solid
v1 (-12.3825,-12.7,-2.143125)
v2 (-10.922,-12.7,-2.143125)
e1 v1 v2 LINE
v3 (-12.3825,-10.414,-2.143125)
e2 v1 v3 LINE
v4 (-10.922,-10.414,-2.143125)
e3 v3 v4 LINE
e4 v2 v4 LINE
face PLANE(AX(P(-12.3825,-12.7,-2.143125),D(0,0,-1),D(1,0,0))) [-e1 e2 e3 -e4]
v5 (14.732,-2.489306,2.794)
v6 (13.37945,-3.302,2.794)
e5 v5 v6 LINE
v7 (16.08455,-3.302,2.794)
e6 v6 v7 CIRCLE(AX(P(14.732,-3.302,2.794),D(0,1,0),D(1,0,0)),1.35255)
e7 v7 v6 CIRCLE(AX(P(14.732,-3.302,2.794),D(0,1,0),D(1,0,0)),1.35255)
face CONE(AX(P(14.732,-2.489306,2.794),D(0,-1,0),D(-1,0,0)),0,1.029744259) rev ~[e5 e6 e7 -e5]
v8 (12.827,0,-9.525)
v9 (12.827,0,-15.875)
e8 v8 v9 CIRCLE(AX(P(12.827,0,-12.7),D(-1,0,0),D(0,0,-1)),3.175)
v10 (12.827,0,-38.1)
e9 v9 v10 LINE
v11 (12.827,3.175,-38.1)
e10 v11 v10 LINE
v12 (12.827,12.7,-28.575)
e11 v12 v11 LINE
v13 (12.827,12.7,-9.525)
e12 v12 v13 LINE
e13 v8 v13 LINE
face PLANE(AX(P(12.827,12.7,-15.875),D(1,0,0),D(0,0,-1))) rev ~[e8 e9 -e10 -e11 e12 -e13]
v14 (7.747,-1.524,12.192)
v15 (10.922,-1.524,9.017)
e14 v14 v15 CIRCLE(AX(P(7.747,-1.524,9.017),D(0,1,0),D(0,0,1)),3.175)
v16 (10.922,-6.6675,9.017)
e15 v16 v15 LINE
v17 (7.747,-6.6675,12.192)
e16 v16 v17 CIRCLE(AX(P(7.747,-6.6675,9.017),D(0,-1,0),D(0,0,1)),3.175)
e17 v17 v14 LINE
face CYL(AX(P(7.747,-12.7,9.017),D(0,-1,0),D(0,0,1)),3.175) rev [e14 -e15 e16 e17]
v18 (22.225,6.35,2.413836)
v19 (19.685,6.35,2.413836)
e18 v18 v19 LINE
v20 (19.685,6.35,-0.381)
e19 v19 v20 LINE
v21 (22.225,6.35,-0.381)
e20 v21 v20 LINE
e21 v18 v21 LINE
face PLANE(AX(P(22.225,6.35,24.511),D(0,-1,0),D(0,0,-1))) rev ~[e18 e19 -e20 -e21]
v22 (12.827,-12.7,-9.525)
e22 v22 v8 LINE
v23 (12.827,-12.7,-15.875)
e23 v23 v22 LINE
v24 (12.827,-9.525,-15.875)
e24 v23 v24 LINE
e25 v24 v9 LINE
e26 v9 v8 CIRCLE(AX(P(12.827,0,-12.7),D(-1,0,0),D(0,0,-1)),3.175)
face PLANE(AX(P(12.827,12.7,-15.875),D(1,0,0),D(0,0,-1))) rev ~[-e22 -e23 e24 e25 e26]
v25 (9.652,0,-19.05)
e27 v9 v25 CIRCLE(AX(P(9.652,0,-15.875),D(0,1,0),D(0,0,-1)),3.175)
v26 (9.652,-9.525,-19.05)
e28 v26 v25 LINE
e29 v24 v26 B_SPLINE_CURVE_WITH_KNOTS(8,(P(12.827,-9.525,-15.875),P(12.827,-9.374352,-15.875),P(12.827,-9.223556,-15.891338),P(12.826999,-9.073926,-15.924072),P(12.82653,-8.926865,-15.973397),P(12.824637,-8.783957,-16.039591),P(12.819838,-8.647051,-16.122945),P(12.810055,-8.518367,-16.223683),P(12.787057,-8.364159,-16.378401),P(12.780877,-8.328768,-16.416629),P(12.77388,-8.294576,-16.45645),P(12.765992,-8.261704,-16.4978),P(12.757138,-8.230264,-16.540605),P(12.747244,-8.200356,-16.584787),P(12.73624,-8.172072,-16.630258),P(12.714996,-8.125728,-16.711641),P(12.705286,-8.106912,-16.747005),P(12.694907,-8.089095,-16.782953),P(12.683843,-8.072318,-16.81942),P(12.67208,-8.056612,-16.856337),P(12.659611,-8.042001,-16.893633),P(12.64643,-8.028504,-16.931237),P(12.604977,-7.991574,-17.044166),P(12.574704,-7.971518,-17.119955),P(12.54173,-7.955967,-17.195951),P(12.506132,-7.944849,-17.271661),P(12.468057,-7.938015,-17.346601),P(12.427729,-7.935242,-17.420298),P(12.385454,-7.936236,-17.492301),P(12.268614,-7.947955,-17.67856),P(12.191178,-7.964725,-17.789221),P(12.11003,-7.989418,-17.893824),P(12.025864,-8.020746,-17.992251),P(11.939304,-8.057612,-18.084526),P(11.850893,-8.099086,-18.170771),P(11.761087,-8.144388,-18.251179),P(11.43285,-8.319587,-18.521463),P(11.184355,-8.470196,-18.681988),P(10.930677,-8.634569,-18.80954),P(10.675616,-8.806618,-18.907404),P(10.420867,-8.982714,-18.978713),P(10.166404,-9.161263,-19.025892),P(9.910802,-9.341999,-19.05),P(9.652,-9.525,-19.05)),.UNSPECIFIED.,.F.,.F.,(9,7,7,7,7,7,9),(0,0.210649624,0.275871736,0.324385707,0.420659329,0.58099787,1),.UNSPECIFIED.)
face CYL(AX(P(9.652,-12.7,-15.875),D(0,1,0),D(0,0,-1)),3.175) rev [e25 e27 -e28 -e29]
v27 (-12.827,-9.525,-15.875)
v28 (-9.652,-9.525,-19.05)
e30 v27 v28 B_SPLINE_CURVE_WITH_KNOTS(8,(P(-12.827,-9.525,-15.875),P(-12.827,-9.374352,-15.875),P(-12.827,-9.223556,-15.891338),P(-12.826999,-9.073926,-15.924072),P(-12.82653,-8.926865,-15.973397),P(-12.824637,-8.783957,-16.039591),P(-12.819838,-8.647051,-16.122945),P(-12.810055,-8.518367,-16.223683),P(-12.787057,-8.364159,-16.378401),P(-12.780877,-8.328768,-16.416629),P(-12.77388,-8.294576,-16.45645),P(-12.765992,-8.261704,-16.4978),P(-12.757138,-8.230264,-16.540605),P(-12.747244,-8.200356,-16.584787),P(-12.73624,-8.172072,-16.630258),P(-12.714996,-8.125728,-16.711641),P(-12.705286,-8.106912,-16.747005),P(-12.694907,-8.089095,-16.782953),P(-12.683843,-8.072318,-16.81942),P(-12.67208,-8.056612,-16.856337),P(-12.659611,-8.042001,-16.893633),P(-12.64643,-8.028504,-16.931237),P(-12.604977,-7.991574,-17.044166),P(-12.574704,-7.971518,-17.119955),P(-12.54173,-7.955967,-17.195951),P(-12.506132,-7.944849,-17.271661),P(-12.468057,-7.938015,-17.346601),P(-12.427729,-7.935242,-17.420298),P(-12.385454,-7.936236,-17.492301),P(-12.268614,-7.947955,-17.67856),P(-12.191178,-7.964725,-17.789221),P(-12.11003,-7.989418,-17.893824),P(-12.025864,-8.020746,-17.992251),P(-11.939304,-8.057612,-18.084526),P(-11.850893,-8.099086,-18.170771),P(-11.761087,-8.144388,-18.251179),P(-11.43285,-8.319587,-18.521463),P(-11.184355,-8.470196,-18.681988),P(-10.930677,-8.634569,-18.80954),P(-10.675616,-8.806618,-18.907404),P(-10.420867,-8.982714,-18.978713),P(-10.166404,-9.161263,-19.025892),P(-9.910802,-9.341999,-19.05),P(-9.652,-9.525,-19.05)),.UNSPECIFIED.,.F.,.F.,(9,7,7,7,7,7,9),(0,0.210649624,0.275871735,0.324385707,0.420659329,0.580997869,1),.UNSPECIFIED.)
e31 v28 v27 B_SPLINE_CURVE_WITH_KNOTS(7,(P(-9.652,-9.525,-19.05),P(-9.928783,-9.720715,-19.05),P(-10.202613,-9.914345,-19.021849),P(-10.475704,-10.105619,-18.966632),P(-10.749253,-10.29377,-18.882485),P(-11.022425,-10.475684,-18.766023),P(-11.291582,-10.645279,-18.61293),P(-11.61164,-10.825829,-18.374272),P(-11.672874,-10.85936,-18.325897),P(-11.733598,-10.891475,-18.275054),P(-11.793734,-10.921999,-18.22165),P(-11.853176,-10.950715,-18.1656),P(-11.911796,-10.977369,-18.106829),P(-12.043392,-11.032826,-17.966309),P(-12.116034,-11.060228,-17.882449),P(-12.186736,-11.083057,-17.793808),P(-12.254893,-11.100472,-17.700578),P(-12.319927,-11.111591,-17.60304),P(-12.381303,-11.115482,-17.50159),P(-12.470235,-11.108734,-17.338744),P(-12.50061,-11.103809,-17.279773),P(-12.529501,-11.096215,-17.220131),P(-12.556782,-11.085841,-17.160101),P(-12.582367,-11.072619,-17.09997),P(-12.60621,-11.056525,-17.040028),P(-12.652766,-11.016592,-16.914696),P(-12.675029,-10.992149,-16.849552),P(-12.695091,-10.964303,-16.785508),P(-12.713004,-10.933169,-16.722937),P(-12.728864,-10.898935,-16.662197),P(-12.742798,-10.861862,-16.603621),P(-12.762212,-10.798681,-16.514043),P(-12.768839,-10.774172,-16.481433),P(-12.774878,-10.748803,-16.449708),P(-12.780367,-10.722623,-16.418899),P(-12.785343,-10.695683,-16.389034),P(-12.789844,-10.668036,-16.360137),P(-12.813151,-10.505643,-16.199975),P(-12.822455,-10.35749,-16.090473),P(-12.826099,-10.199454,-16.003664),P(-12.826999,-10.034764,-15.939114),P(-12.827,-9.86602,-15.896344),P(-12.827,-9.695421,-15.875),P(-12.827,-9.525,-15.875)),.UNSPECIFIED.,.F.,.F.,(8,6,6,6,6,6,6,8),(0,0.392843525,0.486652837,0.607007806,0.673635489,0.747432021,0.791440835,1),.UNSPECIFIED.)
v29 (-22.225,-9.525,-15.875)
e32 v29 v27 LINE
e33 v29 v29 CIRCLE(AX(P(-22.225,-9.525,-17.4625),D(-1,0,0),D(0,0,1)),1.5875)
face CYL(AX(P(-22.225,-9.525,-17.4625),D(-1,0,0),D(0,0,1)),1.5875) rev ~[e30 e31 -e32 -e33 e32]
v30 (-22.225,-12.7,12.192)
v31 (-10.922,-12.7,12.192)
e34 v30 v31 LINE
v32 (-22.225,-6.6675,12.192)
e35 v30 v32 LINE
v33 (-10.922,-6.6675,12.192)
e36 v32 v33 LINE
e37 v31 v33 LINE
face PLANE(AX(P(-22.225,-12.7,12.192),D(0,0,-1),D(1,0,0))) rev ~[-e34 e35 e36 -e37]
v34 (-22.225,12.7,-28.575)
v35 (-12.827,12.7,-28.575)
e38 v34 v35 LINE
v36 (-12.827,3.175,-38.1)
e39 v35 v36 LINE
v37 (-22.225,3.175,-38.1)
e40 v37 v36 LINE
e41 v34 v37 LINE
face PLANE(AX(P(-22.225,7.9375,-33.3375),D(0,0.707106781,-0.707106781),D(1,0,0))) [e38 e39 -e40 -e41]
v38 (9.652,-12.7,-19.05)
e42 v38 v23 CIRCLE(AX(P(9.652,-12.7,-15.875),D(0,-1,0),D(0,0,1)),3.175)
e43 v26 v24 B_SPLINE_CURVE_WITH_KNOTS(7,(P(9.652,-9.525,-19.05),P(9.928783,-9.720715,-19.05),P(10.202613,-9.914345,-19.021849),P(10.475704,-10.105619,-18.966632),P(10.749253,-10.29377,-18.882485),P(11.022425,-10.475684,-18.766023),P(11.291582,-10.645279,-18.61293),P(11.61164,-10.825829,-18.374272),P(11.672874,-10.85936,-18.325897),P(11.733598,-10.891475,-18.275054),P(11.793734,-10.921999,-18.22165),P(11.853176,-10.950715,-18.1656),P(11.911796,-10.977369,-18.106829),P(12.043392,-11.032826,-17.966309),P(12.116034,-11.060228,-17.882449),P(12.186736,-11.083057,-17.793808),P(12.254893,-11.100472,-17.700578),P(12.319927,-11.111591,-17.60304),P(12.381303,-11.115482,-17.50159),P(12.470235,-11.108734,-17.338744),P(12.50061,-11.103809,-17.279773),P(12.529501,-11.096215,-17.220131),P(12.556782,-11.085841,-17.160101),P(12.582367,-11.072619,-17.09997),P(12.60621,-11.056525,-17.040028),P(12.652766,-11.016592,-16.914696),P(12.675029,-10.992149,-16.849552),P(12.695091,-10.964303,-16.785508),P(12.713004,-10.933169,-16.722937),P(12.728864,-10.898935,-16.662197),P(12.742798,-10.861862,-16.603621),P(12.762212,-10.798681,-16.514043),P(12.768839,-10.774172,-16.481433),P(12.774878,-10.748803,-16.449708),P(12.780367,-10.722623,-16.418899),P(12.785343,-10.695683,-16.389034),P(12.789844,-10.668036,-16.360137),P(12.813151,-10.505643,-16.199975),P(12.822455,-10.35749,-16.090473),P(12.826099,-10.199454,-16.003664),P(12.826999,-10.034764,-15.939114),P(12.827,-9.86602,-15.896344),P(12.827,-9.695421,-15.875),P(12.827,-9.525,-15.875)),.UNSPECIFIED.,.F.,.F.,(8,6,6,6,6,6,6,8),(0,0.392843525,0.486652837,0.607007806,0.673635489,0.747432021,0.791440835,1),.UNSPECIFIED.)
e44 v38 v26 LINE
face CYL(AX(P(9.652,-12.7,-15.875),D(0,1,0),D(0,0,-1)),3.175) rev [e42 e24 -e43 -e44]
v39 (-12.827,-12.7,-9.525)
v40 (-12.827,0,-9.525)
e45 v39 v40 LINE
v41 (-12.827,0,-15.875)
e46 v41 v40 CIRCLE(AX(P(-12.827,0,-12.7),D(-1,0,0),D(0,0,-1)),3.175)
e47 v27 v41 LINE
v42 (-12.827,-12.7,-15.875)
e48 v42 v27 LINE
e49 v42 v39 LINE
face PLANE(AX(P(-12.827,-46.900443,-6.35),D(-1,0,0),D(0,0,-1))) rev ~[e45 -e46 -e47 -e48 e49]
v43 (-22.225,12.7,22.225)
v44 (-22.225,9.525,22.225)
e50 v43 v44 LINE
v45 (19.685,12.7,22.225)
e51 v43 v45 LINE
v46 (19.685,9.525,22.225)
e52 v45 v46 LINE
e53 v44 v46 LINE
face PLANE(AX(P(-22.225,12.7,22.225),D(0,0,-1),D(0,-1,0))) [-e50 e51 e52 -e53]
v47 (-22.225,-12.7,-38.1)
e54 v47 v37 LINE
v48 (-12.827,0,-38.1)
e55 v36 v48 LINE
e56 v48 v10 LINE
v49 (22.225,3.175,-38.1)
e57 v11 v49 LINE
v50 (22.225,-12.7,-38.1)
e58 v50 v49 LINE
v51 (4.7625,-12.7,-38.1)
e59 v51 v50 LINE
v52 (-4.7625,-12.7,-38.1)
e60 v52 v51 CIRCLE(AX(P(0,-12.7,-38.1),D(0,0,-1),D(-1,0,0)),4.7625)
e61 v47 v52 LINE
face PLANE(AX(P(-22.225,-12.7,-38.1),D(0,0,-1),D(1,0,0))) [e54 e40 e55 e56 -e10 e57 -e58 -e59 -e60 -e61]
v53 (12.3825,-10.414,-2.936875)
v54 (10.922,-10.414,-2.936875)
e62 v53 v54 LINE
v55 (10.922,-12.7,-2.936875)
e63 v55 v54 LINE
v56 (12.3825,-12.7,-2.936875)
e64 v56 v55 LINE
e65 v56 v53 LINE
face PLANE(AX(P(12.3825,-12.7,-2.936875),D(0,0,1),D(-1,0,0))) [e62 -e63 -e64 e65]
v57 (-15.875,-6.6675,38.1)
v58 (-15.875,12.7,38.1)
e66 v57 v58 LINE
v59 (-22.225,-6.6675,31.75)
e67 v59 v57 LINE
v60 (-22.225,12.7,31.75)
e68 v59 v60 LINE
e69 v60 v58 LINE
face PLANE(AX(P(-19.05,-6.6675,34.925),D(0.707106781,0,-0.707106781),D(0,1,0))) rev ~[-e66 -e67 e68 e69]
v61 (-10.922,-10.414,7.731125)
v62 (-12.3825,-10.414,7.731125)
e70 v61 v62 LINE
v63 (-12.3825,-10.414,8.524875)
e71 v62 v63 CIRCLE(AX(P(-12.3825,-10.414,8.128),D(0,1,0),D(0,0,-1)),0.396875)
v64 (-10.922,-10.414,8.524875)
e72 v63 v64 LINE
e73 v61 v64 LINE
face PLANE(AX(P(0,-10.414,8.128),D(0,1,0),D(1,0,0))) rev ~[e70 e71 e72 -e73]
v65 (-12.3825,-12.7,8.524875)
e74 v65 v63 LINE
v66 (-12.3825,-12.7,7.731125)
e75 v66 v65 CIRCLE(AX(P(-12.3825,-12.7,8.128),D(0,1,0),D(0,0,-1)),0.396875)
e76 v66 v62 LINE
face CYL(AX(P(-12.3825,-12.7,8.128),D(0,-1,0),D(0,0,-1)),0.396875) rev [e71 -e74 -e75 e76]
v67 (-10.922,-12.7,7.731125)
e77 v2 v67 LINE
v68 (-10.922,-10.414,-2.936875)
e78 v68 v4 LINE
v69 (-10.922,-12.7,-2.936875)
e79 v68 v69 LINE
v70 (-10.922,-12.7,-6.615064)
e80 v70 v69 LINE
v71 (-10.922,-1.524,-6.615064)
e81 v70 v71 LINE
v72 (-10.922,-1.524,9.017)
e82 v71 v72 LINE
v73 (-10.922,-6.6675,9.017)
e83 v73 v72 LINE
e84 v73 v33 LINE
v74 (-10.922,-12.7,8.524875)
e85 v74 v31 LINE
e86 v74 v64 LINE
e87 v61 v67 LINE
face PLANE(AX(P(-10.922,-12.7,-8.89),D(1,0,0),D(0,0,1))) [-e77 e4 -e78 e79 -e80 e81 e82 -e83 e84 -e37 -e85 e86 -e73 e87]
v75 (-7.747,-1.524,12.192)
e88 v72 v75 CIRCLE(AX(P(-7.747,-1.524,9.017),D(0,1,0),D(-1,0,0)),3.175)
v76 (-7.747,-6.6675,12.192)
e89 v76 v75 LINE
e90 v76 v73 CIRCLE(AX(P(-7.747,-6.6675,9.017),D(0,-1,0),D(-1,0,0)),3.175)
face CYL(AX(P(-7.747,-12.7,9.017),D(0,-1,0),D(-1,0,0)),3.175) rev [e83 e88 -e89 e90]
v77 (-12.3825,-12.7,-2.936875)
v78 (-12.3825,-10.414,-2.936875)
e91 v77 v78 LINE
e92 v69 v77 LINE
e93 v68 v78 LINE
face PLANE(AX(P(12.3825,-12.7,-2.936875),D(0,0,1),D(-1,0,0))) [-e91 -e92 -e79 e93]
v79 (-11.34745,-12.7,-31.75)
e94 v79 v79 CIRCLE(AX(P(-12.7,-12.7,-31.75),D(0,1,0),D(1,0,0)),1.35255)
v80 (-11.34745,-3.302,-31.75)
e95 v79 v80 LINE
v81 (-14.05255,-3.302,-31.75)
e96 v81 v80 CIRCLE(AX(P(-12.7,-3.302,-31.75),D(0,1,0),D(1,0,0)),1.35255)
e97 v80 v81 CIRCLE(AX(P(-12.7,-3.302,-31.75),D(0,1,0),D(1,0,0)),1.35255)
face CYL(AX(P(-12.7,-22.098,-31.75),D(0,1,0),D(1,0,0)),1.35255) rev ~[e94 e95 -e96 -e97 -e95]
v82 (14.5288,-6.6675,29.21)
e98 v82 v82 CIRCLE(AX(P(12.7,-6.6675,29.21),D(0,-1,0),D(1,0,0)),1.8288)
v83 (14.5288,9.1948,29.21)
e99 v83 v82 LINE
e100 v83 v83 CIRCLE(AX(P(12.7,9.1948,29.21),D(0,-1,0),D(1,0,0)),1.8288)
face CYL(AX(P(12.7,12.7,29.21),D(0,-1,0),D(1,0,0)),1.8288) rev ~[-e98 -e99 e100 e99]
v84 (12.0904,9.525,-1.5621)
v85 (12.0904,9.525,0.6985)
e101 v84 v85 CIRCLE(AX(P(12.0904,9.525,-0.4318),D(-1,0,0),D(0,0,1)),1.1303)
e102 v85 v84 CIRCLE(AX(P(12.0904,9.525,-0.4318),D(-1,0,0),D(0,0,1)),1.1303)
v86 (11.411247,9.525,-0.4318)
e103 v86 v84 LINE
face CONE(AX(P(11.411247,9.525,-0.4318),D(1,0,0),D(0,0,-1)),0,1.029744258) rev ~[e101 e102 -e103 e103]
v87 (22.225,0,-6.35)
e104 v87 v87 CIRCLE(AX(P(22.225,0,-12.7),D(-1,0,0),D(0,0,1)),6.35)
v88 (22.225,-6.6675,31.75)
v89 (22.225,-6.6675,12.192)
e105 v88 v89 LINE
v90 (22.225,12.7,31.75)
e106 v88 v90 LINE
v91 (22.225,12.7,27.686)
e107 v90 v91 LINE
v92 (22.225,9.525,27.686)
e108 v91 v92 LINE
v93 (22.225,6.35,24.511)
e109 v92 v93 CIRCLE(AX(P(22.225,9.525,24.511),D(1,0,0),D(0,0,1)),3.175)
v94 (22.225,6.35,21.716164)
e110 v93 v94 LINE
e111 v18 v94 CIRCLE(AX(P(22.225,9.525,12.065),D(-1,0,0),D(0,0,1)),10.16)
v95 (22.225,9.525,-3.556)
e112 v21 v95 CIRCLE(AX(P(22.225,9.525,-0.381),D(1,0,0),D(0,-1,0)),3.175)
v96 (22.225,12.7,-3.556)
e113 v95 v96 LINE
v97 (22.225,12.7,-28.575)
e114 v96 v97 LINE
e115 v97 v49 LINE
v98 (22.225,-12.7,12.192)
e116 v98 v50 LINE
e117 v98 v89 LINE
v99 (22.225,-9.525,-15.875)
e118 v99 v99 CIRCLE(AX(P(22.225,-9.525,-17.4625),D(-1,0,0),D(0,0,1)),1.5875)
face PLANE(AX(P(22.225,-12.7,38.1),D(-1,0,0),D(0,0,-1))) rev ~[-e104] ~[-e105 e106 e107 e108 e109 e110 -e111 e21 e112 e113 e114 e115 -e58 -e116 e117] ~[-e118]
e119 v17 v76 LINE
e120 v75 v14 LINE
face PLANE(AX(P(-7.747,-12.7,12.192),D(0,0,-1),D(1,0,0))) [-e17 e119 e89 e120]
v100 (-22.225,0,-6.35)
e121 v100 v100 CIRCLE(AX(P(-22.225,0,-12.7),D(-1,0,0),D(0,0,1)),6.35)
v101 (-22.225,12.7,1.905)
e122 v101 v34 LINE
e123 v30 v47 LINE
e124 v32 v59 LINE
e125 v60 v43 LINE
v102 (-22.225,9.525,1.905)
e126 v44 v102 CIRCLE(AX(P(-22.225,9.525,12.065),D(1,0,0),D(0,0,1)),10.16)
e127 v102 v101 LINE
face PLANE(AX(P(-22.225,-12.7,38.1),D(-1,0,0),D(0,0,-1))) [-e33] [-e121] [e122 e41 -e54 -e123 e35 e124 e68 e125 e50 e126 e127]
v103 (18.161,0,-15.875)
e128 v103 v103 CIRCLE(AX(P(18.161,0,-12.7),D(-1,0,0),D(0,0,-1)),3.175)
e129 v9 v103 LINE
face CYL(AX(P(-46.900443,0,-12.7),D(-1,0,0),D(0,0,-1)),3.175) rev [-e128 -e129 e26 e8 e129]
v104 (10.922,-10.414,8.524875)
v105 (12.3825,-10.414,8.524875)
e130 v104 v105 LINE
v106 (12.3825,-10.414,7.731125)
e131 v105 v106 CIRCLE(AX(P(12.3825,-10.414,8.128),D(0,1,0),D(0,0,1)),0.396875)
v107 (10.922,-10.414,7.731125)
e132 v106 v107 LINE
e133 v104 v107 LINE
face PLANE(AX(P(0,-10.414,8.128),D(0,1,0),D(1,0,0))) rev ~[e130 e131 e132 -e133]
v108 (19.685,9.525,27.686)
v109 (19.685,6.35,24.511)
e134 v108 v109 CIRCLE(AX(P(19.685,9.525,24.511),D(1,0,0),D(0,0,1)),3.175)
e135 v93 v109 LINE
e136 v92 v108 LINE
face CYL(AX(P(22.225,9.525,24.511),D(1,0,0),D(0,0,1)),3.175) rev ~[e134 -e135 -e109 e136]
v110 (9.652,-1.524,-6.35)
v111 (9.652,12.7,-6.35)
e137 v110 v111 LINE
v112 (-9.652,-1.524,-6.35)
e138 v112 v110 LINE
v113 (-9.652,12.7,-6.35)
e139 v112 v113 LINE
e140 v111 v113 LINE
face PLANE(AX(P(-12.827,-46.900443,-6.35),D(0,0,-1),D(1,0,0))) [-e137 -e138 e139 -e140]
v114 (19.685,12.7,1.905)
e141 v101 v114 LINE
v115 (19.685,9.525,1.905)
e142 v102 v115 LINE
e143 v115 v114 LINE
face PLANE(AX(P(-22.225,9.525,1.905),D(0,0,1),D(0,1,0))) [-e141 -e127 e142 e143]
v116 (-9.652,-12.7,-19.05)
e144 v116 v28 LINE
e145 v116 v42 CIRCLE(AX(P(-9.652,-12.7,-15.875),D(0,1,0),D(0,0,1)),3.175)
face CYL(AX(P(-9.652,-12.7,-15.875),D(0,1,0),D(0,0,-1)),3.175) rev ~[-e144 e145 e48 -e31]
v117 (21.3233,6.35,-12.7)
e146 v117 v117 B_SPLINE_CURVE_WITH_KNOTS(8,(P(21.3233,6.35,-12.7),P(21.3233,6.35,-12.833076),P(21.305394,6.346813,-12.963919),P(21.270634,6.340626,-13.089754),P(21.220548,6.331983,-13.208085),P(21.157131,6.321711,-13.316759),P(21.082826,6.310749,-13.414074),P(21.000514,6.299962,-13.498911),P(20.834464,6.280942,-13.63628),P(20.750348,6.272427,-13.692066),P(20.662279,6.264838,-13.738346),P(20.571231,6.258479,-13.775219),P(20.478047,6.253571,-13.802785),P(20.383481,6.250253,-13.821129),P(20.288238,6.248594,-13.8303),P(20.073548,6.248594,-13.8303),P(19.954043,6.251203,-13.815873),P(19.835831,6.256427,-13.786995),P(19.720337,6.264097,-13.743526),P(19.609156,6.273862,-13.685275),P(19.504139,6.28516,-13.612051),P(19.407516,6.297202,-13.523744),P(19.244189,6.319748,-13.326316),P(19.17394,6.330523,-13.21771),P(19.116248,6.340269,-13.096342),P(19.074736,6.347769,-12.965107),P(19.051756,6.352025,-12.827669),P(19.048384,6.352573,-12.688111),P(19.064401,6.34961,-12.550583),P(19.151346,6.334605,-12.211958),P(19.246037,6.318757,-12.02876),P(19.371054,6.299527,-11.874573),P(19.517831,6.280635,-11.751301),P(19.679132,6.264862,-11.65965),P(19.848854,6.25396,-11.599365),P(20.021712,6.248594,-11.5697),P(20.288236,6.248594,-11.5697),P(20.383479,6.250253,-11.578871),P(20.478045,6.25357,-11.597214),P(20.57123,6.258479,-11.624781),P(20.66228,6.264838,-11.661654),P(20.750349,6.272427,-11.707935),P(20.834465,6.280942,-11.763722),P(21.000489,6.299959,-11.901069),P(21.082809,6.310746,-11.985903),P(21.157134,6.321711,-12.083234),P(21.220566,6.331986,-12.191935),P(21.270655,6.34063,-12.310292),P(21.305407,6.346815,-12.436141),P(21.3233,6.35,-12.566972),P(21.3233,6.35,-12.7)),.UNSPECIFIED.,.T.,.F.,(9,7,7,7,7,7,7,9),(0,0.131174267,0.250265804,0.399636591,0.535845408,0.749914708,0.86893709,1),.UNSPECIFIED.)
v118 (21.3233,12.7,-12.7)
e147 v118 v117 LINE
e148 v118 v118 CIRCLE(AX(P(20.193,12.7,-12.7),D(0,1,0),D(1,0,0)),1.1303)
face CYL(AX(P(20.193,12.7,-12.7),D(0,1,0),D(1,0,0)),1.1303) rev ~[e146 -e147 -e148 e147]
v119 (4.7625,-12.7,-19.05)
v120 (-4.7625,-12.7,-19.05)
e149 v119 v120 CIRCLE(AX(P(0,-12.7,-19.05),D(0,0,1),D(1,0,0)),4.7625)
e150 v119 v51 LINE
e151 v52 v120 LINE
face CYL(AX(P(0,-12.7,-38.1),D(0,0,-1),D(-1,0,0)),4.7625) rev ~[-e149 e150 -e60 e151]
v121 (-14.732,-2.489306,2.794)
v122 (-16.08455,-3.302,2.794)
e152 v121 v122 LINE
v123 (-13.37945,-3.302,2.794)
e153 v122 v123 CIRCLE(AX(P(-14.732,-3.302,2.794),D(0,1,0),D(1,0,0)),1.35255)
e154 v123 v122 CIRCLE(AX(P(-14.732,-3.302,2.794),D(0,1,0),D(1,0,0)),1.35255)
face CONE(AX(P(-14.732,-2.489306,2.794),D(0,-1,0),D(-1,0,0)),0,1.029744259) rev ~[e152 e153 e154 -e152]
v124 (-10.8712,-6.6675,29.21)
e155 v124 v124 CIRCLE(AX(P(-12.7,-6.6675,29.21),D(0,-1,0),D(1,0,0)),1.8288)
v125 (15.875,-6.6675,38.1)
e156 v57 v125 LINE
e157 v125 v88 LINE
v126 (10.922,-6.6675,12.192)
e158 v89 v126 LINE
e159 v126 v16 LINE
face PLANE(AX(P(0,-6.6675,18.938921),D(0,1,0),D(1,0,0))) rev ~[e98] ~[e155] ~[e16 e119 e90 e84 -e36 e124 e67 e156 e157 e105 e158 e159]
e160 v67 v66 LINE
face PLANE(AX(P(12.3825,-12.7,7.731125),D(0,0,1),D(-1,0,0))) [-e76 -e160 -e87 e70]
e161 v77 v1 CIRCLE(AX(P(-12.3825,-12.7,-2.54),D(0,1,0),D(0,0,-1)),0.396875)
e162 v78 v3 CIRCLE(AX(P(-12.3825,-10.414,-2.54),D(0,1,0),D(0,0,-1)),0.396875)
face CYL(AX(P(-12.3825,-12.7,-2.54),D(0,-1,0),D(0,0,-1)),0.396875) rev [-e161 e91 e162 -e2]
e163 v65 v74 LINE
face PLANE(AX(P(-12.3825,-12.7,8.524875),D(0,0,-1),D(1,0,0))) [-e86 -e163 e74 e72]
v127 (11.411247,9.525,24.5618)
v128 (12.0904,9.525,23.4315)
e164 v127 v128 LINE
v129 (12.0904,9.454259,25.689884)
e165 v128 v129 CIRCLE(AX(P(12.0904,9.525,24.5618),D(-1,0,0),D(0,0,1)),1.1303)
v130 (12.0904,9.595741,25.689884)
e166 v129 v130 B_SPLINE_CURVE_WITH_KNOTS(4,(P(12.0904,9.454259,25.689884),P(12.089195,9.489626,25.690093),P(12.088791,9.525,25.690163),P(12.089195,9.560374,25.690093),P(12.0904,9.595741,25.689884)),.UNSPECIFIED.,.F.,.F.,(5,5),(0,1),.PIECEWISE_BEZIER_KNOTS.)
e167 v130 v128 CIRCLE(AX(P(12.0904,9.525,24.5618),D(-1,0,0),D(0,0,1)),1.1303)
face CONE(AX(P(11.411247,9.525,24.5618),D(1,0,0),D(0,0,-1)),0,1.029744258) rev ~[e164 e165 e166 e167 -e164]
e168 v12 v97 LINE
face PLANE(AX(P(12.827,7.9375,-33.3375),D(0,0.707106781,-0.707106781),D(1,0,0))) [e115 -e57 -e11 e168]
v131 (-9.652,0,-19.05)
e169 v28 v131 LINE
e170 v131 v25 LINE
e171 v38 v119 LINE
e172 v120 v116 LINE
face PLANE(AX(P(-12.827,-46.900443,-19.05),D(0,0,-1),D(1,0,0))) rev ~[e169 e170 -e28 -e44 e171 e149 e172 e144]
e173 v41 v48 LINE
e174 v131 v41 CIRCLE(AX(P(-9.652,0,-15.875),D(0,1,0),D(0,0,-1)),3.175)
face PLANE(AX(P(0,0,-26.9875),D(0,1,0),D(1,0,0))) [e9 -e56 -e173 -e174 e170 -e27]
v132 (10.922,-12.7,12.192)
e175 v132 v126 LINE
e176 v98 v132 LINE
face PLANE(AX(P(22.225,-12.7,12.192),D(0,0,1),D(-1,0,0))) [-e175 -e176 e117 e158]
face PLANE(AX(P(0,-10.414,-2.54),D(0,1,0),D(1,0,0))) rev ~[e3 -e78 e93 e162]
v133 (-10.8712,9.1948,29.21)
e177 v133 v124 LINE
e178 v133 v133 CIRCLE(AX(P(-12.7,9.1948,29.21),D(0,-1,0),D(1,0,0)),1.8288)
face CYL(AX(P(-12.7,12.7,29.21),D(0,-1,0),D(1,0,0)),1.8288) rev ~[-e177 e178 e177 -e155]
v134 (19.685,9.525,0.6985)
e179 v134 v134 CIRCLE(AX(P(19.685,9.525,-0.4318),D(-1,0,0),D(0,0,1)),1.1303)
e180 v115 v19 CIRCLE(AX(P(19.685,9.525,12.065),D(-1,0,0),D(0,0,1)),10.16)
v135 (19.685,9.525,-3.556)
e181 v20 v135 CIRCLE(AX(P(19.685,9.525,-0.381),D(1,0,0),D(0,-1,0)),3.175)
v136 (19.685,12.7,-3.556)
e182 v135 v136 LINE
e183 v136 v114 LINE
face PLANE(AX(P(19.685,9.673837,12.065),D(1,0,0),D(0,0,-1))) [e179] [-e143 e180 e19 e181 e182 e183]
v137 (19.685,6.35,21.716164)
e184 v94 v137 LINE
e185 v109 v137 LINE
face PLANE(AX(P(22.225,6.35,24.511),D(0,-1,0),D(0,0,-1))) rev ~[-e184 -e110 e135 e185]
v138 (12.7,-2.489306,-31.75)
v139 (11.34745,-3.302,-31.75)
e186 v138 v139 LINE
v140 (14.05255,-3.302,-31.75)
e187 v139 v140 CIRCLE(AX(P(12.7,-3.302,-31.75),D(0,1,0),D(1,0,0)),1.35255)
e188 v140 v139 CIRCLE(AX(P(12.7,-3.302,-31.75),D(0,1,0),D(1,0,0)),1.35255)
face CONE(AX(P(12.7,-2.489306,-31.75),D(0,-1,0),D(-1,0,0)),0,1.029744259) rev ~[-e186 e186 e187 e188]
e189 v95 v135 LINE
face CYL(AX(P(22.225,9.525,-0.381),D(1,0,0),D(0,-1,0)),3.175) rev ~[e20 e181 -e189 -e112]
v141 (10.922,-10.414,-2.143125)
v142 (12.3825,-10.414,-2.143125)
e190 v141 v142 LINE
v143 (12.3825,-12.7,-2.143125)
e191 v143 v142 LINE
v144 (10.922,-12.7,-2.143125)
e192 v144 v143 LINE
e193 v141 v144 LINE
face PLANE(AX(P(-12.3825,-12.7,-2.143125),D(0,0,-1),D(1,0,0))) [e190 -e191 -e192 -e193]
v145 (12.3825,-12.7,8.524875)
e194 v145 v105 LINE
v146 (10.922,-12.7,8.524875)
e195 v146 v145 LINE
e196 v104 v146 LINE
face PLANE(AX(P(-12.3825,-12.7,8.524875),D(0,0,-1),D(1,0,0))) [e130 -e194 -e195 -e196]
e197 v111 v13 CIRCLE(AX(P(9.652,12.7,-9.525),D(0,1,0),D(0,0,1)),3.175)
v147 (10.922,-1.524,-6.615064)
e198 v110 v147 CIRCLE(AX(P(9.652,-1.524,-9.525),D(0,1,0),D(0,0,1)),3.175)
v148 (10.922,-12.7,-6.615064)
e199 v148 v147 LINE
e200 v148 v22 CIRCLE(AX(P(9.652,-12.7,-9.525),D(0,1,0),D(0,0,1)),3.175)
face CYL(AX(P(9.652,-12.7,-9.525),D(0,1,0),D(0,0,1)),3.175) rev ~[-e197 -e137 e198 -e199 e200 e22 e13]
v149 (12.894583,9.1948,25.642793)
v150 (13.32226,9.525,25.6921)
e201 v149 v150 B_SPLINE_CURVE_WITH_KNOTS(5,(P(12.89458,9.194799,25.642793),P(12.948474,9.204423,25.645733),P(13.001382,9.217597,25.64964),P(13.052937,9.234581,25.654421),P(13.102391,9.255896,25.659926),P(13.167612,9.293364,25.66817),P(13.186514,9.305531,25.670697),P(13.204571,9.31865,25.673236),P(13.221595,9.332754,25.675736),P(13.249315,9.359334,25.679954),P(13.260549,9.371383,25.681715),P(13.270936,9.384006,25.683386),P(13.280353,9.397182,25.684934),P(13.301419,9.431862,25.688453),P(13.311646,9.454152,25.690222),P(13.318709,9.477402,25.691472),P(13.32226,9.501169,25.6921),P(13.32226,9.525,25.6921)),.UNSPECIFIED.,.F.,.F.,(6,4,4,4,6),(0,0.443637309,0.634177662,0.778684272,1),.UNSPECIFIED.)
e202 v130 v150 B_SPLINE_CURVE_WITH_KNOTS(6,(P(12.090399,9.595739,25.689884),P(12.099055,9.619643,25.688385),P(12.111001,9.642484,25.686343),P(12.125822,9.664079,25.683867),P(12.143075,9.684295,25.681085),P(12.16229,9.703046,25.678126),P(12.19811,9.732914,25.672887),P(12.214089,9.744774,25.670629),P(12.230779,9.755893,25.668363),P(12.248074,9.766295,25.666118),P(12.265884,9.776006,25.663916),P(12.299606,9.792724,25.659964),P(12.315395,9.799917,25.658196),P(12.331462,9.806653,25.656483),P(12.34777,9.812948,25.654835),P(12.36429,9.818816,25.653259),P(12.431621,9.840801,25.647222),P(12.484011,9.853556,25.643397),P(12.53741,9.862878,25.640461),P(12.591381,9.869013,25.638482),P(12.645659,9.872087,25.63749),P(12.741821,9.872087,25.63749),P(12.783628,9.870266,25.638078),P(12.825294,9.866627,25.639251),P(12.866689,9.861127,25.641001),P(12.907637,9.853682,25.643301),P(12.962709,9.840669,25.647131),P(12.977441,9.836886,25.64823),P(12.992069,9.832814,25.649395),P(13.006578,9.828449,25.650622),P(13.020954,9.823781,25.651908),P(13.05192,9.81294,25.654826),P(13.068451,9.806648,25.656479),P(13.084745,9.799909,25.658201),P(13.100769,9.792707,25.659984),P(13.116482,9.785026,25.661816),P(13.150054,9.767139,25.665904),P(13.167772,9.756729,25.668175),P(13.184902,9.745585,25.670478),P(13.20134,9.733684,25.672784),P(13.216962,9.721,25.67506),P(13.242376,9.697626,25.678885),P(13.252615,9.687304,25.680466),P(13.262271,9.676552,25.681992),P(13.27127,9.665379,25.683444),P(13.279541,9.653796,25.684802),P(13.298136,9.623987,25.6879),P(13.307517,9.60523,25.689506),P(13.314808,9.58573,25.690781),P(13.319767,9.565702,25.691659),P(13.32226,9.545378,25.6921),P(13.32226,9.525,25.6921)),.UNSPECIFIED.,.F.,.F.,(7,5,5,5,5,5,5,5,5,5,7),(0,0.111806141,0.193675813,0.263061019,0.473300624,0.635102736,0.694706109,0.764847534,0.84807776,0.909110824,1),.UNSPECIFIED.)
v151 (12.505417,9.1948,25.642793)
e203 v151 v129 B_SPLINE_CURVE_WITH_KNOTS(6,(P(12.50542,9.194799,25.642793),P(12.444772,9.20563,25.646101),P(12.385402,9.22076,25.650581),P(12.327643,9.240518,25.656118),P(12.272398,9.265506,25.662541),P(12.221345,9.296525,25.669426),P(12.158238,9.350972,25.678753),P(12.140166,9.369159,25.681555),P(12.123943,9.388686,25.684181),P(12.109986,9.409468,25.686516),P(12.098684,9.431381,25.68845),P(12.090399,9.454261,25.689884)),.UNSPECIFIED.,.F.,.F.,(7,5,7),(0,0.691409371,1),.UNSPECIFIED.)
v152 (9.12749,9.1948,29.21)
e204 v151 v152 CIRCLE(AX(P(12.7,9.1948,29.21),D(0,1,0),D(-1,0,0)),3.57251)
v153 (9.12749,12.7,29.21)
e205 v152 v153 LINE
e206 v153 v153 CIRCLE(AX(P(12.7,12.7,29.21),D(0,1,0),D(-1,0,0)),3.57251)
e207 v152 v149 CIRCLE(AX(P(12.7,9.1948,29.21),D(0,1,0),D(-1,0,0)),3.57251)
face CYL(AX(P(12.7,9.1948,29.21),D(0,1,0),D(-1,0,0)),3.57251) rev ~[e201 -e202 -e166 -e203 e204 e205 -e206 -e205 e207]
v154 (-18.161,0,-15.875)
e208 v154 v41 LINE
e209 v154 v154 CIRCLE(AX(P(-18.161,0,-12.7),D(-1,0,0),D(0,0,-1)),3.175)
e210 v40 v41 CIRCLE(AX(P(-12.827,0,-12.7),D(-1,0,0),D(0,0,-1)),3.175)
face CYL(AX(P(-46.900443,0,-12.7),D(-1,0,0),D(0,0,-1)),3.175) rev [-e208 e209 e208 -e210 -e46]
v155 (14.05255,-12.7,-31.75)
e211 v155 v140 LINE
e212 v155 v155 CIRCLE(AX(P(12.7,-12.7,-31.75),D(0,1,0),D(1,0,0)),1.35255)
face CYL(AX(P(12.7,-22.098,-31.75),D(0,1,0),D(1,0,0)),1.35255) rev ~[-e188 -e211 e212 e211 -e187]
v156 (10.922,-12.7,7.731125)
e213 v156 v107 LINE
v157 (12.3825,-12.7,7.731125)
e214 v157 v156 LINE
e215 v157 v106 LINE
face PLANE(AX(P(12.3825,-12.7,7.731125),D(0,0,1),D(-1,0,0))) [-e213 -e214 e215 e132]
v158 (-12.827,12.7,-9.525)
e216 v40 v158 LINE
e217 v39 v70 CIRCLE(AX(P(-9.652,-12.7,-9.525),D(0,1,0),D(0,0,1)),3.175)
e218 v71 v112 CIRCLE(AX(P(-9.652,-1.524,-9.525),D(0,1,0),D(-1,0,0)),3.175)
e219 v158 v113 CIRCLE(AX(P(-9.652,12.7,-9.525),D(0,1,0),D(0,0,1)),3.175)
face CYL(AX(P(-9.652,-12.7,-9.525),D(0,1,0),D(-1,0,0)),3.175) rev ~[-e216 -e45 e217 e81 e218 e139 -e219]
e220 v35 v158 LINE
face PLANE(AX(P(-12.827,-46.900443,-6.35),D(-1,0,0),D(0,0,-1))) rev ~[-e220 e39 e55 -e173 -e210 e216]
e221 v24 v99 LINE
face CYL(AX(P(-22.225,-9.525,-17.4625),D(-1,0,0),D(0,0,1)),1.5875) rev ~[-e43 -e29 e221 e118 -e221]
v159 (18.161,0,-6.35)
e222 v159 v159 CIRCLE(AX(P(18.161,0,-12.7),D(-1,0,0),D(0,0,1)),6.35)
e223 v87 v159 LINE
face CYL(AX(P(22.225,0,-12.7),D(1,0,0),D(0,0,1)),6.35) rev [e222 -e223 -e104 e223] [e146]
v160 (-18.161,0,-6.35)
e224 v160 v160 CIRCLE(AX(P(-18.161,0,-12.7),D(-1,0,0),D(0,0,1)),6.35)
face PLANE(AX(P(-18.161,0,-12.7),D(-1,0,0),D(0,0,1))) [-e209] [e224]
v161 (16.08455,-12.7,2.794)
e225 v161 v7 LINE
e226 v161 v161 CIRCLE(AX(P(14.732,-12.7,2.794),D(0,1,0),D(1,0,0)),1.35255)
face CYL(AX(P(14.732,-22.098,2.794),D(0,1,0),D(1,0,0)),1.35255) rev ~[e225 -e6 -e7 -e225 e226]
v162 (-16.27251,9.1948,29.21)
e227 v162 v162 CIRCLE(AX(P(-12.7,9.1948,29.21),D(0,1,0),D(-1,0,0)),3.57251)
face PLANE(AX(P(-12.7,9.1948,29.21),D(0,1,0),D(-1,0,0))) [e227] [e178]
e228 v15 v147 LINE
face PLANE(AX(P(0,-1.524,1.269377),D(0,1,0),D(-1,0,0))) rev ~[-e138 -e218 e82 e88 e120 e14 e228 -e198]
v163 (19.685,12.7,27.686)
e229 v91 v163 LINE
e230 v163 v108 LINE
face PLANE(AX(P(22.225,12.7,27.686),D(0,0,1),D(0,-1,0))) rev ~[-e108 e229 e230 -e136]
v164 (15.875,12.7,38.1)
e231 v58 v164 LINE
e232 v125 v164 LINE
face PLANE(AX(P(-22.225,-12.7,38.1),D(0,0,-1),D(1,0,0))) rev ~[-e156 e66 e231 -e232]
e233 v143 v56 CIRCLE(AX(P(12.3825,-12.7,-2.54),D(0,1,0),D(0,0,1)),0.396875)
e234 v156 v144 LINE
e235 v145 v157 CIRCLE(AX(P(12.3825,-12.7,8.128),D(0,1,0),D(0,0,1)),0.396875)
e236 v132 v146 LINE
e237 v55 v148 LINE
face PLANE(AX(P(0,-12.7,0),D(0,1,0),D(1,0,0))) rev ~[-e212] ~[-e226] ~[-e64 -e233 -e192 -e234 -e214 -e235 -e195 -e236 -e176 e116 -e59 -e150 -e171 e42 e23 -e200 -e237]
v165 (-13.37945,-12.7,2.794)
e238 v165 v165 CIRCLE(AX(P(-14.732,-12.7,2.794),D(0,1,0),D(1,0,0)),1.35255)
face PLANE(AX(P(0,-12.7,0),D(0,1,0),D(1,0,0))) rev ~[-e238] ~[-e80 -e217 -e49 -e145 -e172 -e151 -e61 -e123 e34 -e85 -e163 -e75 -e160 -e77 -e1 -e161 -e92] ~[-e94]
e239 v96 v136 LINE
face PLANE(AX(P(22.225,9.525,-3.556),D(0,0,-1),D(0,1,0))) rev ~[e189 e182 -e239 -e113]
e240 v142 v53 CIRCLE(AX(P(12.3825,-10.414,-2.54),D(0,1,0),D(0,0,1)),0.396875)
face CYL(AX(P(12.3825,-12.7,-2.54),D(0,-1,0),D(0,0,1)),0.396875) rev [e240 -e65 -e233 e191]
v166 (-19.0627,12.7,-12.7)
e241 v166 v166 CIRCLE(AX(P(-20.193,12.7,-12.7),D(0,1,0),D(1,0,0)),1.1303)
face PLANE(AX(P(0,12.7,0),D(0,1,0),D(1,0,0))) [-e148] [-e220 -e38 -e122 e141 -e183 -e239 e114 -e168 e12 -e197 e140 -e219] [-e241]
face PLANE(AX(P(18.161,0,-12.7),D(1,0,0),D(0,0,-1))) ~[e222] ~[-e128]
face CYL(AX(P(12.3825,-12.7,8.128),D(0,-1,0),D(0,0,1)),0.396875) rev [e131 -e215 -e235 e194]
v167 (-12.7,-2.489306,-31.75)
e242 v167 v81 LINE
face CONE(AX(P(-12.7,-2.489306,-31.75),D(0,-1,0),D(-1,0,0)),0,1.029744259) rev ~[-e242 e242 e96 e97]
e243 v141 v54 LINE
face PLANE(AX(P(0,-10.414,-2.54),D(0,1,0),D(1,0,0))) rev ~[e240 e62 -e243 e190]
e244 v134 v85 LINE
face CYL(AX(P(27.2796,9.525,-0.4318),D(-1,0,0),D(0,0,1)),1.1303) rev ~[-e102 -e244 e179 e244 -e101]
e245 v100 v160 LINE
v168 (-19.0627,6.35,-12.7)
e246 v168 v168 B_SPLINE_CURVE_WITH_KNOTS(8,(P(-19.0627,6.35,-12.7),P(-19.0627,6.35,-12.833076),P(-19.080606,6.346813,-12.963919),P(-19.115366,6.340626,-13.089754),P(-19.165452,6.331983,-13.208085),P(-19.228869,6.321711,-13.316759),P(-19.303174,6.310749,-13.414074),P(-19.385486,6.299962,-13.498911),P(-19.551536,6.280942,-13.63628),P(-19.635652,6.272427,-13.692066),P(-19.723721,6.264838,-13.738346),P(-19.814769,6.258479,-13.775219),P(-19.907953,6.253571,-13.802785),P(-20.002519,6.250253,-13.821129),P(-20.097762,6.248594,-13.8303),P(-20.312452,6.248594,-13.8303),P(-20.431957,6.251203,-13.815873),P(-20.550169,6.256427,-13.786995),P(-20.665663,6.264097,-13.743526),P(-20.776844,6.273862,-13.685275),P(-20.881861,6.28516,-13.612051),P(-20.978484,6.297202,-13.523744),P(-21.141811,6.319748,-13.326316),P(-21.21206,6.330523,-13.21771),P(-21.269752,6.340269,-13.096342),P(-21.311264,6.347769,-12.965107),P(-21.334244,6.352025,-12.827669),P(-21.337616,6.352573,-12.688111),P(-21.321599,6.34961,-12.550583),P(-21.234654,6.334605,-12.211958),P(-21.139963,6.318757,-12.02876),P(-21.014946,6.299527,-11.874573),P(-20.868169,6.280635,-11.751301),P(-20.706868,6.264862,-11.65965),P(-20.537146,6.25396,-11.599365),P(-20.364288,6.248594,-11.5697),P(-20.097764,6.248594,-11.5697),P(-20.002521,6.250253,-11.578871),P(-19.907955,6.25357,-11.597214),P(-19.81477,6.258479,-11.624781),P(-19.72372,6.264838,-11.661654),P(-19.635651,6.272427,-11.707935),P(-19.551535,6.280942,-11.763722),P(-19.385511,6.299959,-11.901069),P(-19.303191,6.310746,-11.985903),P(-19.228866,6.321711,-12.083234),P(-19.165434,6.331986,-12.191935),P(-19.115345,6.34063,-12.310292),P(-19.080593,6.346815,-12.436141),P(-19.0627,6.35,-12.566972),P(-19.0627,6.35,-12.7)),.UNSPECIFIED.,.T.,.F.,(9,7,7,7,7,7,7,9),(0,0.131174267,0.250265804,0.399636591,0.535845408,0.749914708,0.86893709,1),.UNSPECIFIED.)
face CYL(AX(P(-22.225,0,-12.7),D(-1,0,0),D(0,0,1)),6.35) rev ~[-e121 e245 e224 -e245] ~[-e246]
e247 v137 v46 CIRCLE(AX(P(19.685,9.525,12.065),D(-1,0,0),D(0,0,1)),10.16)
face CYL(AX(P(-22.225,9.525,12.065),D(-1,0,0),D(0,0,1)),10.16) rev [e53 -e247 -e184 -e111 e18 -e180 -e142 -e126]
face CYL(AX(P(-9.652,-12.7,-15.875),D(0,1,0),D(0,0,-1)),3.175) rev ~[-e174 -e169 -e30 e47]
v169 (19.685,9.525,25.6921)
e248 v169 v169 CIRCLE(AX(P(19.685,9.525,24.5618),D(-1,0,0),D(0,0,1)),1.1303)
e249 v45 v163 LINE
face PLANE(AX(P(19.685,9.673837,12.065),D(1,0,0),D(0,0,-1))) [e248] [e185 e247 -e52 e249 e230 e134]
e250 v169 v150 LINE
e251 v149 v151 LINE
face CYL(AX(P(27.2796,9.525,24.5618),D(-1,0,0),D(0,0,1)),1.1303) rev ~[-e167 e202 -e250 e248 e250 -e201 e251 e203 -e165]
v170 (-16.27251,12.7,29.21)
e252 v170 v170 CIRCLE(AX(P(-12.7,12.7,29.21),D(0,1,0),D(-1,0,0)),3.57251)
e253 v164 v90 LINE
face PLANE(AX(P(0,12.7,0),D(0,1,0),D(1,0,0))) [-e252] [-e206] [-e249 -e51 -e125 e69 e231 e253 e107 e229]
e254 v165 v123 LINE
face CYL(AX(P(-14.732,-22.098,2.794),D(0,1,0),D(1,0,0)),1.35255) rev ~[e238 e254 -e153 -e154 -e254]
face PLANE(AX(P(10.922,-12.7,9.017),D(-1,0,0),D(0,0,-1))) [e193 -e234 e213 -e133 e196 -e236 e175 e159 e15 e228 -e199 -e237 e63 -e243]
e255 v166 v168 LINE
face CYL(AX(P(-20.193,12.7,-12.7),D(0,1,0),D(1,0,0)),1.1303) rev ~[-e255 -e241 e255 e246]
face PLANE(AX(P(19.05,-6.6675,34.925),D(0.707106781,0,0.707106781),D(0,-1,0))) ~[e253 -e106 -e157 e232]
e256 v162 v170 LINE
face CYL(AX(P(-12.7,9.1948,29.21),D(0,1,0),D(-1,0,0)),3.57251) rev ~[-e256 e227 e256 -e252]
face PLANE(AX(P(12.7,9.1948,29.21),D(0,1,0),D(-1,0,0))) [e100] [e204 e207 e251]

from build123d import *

# Parameters (mm, degrees)
BASE_DEPTH                    = 12.7
BASE_DEPTH_BACK               = 12.7
SKETCH1_W                     = 44.45
SKETCH1_H                     = 76.2
SKETCH2_R                     = 4.7625
SHAFTGUIDE_DEPTH              = 25.4
ACTUATORPLANECUT_DEPTH        = 6.0325
CENTERSLOT_DEPTH              = 46.900442536
CENTERSLOT_DEPTH_BACK         = 46.900442536
SKETCH5_W                     = 25.654
SKETCH5_H                     = 12.7
CENTERSLOTFILLET_R            = 3.175
GEARBOXPIT_DEPTH              = 11.176
SKETCH60_W                    = 25.654
SKETCH60_H                    = 22.225
FRONTCUTAWAY_DEPTH            = 12.7
CHAMFERFRONT_SIZE             = 9.525
GEARBOXSLOTSH_DEPTH           = 2.286
SKETCH55_R                    = 1.5875
GUIDEBARHOLE_DEPTH            = 60.905780189
PITCHSHAFTHOLE_DEPTH          = 46.900442612
PITCHSHAFTHOLE_DEPTH_BACK     = 46.900442612
SKETCH56_R                    = 3.175
SKETCH57_R                    = 6.35
BEARINGBORER_DEPTH            = 4.064
BEARINGBORESETSCREWS_REACH    = 62.778
BEARINGBORESETSCREWS_BORE_R   = 1.1303
TOGGLEASSEMHOLES_D            = 2.7051
TOGGLEASSEMHOLES_DEPTH        = 9.398
TOGGLEASSEMHOLES_TIP          = 0.81269403
BACKCHAMFERS_SIZE             = 6.35
PITCHMOTORSLOT_DEPTH          = 60.905780284
PITCHMOTORMOUNTINGSLOTS_DEPTH = 2.54
PITCHMOTORMOUNTINGHOLES_D     = 2.2606
PITCHMOTORMOUNTINGHOLES_DEPTH = 7.5946
PITCHMOTORMOUNTINGHOLES_TIP   = 0.679152758
GEARBOXMOUNTINGHOLES_D        = 2.7051
GEARBOXMOUNTINGHOLES_DEPTH    = 9.398
GEARBOXMOUNTINGHOLES_TIP      = 0.81269403
CAPMOUNTINGHOLES_D            = 3.6576
CAPMOUNTINGHOLES_CBORE_D      = 7.14502
CAPMOUNTINGHOLES_CBORE_DEPTH  = 3.5052


with BuildPart() as part:
    # Sketch1 → Base (new, two sides: drawn at the far end of the back side and taken through both)
    with BuildSketch(Plane(origin=(0, 0, 0), x_dir=(1, 0, 0), z_dir=(0, 1, 0)).offset(-BASE_DEPTH_BACK)):
        Rectangle(SKETCH1_W, SKETCH1_H)
    extrude(amount=BASE_DEPTH + BASE_DEPTH_BACK)

    # Sketch2 → ShaftGuide (cut)
    with BuildSketch(Plane(origin=(0, 0, -38.1), x_dir=(-1, 0, 0), z_dir=(0, 0, -1))):
        with Locations((0, -12.7)):
            Circle(SKETCH2_R)
    extrude(amount=-SHAFTGUIDE_DEPTH, mode=Mode.SUBTRACT)

    # Sketch3 → ActuatorPlaneCut (cut)
    with BuildSketch(Plane(origin=(0, -12.7, 0), x_dir=(-1, 0, 0), z_dir=(0, -1, 0))):
        Polygon((10.922, -12.192), (16.002, -12.192), (22.225, -12.192), (22.225, -38.1), (-22.225, -38.1), (-22.225, -12.192), (-10.922, -12.192), (-10.922, 4.572), (10.922, 4.572), align=None)
    extrude(amount=-ACTUATORPLANECUT_DEPTH, mode=Mode.SUBTRACT)

    # Sketch5 → CenterSlot (cut, two sides: drawn at the far end of the back side and taken through both)
    with BuildSketch(Plane(origin=(0, 0, 0), x_dir=(1, 0, 0), z_dir=(0, 1, 0)).offset(-CENTERSLOT_DEPTH_BACK)):
        with Locations((0, 12.7)):
            Rectangle(SKETCH5_W, SKETCH5_H)
    extrude(amount=CENTERSLOT_DEPTH + CENTERSLOT_DEPTH_BACK, mode=Mode.SUBTRACT)

    # CenterSlotFillet
    centerslotfillet_edges = [part.edges().sort_by_distance(p)[0] for p in [
        (12.827, 0, -19.05),
        (-12.827, 0, -19.05),
        (-12.827, 0, -6.35),
        (12.827, 0, -6.35),
    ]]
    fillet(centerslotfillet_edges, radius=CENTERSLOTFILLET_R)

    # Sketch40 → GearBoxPit (cut)
    with BuildSketch(Plane.XZ.offset(12.7)):
        with BuildLine():
            Line((10.922, -8.89), (-10.922, -8.89))
            Line((-10.922, -8.89), (-10.922, 9.017))
            ThreePointArc((-10.922, 9.017), (-9.99206403, 11.26206403), (-7.747, 12.192))
            Line((-7.747, 12.192), (7.747, 12.192))
            ThreePointArc((7.747, 12.192), (9.99206403, 11.26206403), (10.922, 9.017))
            Line((10.922, 9.017), (10.922, -8.89))
        make_face()
    extrude(amount=-GEARBOXPIT_DEPTH, mode=Mode.SUBTRACT)

    # Sketch60 → FrontCutaway (cut)
    with BuildSketch(Plane(origin=(0, 12.7, 0), x_dir=(1, 0, 0), z_dir=(0, 1, 0))):
        with Locations((0, 26.9875)):
            Rectangle(SKETCH60_W, SKETCH60_H)
    extrude(amount=-FRONTCUTAWAY_DEPTH, mode=Mode.SUBTRACT)

    # ChamferFront
    chamferfront_edges = [part.edges().sort_by_distance(p)[0] for p in [
        (17.526, 12.7, -38.1),
        (-17.526, 12.7, -38.1),
    ]]
    chamfer(chamferfront_edges, length=CHAMFERFRONT_SIZE)

    # Sketch67 → GearBoxSlotsH (cut)
    with BuildSketch(Plane(origin=(0, -12.7, 0), x_dir=(-1, 0, 0), z_dir=(0, -1, 0))):
        with BuildLine():
            Line((-12.3825, 2.936875), (12.3825, 2.936875))
            ThreePointArc((12.3825, 2.936875), (12.779375, 2.54), (12.3825, 2.143125))
            Line((12.3825, 2.143125), (-12.3825, 2.143125))
            ThreePointArc((-12.3825, 2.143125), (-12.779375, 2.54), (-12.3825, 2.936875))
        make_face()
        with BuildLine():
            Line((-12.3825, -7.731125), (12.3825, -7.731125))
            ThreePointArc((12.3825, -7.731125), (12.779375, -8.128), (12.3825, -8.524875))
            Line((12.3825, -8.524875), (-12.3825, -8.524875))
            ThreePointArc((-12.3825, -8.524875), (-12.779375, -8.128), (-12.3825, -7.731125))
        make_face()
    extrude(amount=-GEARBOXSLOTSH_DEPTH, mode=Mode.SUBTRACT)

    # Sketch55 → GuideBarHole (cut, through all)
    with BuildSketch(Plane.ZY.offset(22.225)):
        with Locations((-17.4625, -9.525)):
            Circle(SKETCH55_R)
    extrude(amount=-GUIDEBARHOLE_DEPTH, mode=Mode.SUBTRACT)

    # Sketch56 → PitchShaftHole (cut, two sides: drawn at the far end of the back side and taken through both)
    with BuildSketch(Plane(origin=(0, 0, 0), x_dir=(0, 0, -1), z_dir=(1, 0, 0)).offset(-PITCHSHAFTHOLE_DEPTH_BACK)):
        with Locations((12.7, 0)):
            Circle(SKETCH56_R)
    extrude(amount=PITCHSHAFTHOLE_DEPTH + PITCHSHAFTHOLE_DEPTH_BACK, mode=Mode.SUBTRACT)

    # Sketch57 → BearingBoreR (cut)
    with BuildSketch(Plane.ZY.offset(22.225)):
        with Locations((-12.7, 0)):
            Circle(SKETCH57_R)
    bearingborer = extrude(amount=-BEARINGBORER_DEPTH, mode=Mode.SUBTRACT)

    # BearingBoreL: BearingBoreR across plane
    add(bearingborer.mirror(Plane(origin=(0, 0, 0), x_dir=(0, 0, 1), z_dir=(1, 0, 0))), mode=Mode.SUBTRACT)

    # BearingBoreSetScrews bore → BearingBoreSetScrews (cut, up to next)
    with BuildSketch(Plane(origin=(4.343261145, 12.7, -10.30436568), x_dir=(1, 0, 0), z_dir=(0, 1, 0)), mode=Mode.PRIVATE) as bearingboresetscrews_sk1:
        with Locations((-24.536261145, 2.39563432)):
            Circle(BEARINGBORESETSCREWS_BORE_R)
    bearingboresetscrews_tool1 = extrude(bearingboresetscrews_sk1.sketch, amount=-BEARINGBORESETSCREWS_REACH, mode=Mode.PRIVATE) & part.part
    # BearingBoreSetScrews bore → BearingBoreSetScrews (cut, up to next)
    with BuildSketch(Plane(origin=(4.343261145, 12.7, -10.30436568), x_dir=(1, 0, 0), z_dir=(0, 1, 0)), mode=Mode.PRIVATE) as bearingboresetscrews_sk2:
        with Locations((15.849738855, 2.39563432)):
            Circle(BEARINGBORESETSCREWS_BORE_R)
    bearingboresetscrews_tool2 = extrude(bearingboresetscrews_sk2.sketch, amount=-BEARINGBORESETSCREWS_REACH, mode=Mode.PRIVATE) & part.part
    add(bearingboresetscrews_tool1.solids().sort_by_distance((-20.193, 12.7, -12.7))[0], mode=Mode.SUBTRACT)
    add(bearingboresetscrews_tool2.solids().sort_by_distance((20.193, 12.7, -12.7))[0], mode=Mode.SUBTRACT)

    # ToggleAssemHoles
    with Locations(Plane(origin=(0, -12.7, 0), x_dir=(-1, 0, 0), z_dir=(0, -1, 0))):
        with Locations((12.7, 31.75), (-12.7, 31.75)):
            Hole(TOGGLEASSEMHOLES_D / 2, depth=TOGGLEASSEMHOLES_DEPTH)
            with Locations((0, 0, -(TOGGLEASSEMHOLES_DEPTH + TOGGLEASSEMHOLES_TIP / 2))):  # 118° drill point
                Cone(0, TOGGLEASSEMHOLES_D / 2, TOGGLEASSEMHOLES_TIP, mode=Mode.SUBTRACT)

    # BackChamfers
    backchamfers_edges = [part.edges().sort_by_distance(p)[0] for p in [
        (-22.225, 3.01625, 38.1),
        (22.225, 3.01625, 38.1),
    ]]
    chamfer(backchamfers_edges, length=BACKCHAMFERS_SIZE)

    # Sketch62 → PitchMotorSlot (cut, through all)
    with BuildSketch(Plane.ZY.offset(22.225)):
        with BuildLine():
            Line((1.905, 9.525), (1.905, 12.7))
            Line((1.905, 12.7), (22.225, 12.7))
            Line((22.225, 12.7), (22.225, 9.525))
            ThreePointArc((22.225, 9.525), (12.065, -0.635), (1.905, 9.525))
        make_face()
    extrude(amount=-PITCHMOTORSLOT_DEPTH, mode=Mode.SUBTRACT)

    # Sketch63 → PitchMotorMountingSlots (cut)
    with BuildSketch(Plane.ZY.offset(-22.225)):
        with BuildLine():
            Line((-3.556, 12.7), (27.686, 12.7))
            Line((27.686, 12.7), (27.686, 9.525))
            ThreePointArc((27.686, 9.525), (26.75606403, 7.27993597), (24.511, 6.35))
            Line((24.511, 6.35), (-0.381, 6.35))
            ThreePointArc((-0.381, 6.35), (-2.62606403, 7.27993597), (-3.556, 9.525))
            Line((-3.556, 9.525), (-3.556, 12.7))
        make_face()
    extrude(amount=PITCHMOTORMOUNTINGSLOTS_DEPTH, mode=Mode.SUBTRACT)

    # PitchMotorMountingHoles
    with Locations(Plane(origin=(19.685, 0, 0), x_dir=(0, 0, -1), z_dir=(1, 0, 0))):
        with Locations((-24.5618, 9.525), (0.4318, 9.525)):
            Hole(PITCHMOTORMOUNTINGHOLES_D / 2, depth=PITCHMOTORMOUNTINGHOLES_DEPTH)
            with Locations((0, 0, -(PITCHMOTORMOUNTINGHOLES_DEPTH + PITCHMOTORMOUNTINGHOLES_TIP / 2))):  # 118° drill point
                Cone(0, PITCHMOTORMOUNTINGHOLES_D / 2, PITCHMOTORMOUNTINGHOLES_TIP, mode=Mode.SUBTRACT)

    # GearBoxMountingHoles
    with Locations(Plane(origin=(0, -12.7, 0), x_dir=(-1, 0, 0), z_dir=(0, -1, 0))):
        with Locations((-14.732, -2.794), (14.732, -2.794)):
            Hole(GEARBOXMOUNTINGHOLES_D / 2, depth=GEARBOXMOUNTINGHOLES_DEPTH)
            with Locations((0, 0, -(GEARBOXMOUNTINGHOLES_DEPTH + GEARBOXMOUNTINGHOLES_TIP / 2))):  # 118° drill point
                Cone(0, GEARBOXMOUNTINGHOLES_D / 2, GEARBOXMOUNTINGHOLES_TIP, mode=Mode.SUBTRACT)

    # CapMountingHoles (through all)
    with Locations(Plane(origin=(-0.837932951, 12.7, 8.633720573), x_dir=(-1, 0, 0), z_dir=(0, 1, 0))):
        with Locations((-13.537932951, 20.576279427), (11.862067049, 20.576279427)):
            CounterBoreHole(CAPMOUNTINGHOLES_D / 2, CAPMOUNTINGHOLES_CBORE_D / 2, CAPMOUNTINGHOLES_CBORE_DEPTH)


solid = part.part
